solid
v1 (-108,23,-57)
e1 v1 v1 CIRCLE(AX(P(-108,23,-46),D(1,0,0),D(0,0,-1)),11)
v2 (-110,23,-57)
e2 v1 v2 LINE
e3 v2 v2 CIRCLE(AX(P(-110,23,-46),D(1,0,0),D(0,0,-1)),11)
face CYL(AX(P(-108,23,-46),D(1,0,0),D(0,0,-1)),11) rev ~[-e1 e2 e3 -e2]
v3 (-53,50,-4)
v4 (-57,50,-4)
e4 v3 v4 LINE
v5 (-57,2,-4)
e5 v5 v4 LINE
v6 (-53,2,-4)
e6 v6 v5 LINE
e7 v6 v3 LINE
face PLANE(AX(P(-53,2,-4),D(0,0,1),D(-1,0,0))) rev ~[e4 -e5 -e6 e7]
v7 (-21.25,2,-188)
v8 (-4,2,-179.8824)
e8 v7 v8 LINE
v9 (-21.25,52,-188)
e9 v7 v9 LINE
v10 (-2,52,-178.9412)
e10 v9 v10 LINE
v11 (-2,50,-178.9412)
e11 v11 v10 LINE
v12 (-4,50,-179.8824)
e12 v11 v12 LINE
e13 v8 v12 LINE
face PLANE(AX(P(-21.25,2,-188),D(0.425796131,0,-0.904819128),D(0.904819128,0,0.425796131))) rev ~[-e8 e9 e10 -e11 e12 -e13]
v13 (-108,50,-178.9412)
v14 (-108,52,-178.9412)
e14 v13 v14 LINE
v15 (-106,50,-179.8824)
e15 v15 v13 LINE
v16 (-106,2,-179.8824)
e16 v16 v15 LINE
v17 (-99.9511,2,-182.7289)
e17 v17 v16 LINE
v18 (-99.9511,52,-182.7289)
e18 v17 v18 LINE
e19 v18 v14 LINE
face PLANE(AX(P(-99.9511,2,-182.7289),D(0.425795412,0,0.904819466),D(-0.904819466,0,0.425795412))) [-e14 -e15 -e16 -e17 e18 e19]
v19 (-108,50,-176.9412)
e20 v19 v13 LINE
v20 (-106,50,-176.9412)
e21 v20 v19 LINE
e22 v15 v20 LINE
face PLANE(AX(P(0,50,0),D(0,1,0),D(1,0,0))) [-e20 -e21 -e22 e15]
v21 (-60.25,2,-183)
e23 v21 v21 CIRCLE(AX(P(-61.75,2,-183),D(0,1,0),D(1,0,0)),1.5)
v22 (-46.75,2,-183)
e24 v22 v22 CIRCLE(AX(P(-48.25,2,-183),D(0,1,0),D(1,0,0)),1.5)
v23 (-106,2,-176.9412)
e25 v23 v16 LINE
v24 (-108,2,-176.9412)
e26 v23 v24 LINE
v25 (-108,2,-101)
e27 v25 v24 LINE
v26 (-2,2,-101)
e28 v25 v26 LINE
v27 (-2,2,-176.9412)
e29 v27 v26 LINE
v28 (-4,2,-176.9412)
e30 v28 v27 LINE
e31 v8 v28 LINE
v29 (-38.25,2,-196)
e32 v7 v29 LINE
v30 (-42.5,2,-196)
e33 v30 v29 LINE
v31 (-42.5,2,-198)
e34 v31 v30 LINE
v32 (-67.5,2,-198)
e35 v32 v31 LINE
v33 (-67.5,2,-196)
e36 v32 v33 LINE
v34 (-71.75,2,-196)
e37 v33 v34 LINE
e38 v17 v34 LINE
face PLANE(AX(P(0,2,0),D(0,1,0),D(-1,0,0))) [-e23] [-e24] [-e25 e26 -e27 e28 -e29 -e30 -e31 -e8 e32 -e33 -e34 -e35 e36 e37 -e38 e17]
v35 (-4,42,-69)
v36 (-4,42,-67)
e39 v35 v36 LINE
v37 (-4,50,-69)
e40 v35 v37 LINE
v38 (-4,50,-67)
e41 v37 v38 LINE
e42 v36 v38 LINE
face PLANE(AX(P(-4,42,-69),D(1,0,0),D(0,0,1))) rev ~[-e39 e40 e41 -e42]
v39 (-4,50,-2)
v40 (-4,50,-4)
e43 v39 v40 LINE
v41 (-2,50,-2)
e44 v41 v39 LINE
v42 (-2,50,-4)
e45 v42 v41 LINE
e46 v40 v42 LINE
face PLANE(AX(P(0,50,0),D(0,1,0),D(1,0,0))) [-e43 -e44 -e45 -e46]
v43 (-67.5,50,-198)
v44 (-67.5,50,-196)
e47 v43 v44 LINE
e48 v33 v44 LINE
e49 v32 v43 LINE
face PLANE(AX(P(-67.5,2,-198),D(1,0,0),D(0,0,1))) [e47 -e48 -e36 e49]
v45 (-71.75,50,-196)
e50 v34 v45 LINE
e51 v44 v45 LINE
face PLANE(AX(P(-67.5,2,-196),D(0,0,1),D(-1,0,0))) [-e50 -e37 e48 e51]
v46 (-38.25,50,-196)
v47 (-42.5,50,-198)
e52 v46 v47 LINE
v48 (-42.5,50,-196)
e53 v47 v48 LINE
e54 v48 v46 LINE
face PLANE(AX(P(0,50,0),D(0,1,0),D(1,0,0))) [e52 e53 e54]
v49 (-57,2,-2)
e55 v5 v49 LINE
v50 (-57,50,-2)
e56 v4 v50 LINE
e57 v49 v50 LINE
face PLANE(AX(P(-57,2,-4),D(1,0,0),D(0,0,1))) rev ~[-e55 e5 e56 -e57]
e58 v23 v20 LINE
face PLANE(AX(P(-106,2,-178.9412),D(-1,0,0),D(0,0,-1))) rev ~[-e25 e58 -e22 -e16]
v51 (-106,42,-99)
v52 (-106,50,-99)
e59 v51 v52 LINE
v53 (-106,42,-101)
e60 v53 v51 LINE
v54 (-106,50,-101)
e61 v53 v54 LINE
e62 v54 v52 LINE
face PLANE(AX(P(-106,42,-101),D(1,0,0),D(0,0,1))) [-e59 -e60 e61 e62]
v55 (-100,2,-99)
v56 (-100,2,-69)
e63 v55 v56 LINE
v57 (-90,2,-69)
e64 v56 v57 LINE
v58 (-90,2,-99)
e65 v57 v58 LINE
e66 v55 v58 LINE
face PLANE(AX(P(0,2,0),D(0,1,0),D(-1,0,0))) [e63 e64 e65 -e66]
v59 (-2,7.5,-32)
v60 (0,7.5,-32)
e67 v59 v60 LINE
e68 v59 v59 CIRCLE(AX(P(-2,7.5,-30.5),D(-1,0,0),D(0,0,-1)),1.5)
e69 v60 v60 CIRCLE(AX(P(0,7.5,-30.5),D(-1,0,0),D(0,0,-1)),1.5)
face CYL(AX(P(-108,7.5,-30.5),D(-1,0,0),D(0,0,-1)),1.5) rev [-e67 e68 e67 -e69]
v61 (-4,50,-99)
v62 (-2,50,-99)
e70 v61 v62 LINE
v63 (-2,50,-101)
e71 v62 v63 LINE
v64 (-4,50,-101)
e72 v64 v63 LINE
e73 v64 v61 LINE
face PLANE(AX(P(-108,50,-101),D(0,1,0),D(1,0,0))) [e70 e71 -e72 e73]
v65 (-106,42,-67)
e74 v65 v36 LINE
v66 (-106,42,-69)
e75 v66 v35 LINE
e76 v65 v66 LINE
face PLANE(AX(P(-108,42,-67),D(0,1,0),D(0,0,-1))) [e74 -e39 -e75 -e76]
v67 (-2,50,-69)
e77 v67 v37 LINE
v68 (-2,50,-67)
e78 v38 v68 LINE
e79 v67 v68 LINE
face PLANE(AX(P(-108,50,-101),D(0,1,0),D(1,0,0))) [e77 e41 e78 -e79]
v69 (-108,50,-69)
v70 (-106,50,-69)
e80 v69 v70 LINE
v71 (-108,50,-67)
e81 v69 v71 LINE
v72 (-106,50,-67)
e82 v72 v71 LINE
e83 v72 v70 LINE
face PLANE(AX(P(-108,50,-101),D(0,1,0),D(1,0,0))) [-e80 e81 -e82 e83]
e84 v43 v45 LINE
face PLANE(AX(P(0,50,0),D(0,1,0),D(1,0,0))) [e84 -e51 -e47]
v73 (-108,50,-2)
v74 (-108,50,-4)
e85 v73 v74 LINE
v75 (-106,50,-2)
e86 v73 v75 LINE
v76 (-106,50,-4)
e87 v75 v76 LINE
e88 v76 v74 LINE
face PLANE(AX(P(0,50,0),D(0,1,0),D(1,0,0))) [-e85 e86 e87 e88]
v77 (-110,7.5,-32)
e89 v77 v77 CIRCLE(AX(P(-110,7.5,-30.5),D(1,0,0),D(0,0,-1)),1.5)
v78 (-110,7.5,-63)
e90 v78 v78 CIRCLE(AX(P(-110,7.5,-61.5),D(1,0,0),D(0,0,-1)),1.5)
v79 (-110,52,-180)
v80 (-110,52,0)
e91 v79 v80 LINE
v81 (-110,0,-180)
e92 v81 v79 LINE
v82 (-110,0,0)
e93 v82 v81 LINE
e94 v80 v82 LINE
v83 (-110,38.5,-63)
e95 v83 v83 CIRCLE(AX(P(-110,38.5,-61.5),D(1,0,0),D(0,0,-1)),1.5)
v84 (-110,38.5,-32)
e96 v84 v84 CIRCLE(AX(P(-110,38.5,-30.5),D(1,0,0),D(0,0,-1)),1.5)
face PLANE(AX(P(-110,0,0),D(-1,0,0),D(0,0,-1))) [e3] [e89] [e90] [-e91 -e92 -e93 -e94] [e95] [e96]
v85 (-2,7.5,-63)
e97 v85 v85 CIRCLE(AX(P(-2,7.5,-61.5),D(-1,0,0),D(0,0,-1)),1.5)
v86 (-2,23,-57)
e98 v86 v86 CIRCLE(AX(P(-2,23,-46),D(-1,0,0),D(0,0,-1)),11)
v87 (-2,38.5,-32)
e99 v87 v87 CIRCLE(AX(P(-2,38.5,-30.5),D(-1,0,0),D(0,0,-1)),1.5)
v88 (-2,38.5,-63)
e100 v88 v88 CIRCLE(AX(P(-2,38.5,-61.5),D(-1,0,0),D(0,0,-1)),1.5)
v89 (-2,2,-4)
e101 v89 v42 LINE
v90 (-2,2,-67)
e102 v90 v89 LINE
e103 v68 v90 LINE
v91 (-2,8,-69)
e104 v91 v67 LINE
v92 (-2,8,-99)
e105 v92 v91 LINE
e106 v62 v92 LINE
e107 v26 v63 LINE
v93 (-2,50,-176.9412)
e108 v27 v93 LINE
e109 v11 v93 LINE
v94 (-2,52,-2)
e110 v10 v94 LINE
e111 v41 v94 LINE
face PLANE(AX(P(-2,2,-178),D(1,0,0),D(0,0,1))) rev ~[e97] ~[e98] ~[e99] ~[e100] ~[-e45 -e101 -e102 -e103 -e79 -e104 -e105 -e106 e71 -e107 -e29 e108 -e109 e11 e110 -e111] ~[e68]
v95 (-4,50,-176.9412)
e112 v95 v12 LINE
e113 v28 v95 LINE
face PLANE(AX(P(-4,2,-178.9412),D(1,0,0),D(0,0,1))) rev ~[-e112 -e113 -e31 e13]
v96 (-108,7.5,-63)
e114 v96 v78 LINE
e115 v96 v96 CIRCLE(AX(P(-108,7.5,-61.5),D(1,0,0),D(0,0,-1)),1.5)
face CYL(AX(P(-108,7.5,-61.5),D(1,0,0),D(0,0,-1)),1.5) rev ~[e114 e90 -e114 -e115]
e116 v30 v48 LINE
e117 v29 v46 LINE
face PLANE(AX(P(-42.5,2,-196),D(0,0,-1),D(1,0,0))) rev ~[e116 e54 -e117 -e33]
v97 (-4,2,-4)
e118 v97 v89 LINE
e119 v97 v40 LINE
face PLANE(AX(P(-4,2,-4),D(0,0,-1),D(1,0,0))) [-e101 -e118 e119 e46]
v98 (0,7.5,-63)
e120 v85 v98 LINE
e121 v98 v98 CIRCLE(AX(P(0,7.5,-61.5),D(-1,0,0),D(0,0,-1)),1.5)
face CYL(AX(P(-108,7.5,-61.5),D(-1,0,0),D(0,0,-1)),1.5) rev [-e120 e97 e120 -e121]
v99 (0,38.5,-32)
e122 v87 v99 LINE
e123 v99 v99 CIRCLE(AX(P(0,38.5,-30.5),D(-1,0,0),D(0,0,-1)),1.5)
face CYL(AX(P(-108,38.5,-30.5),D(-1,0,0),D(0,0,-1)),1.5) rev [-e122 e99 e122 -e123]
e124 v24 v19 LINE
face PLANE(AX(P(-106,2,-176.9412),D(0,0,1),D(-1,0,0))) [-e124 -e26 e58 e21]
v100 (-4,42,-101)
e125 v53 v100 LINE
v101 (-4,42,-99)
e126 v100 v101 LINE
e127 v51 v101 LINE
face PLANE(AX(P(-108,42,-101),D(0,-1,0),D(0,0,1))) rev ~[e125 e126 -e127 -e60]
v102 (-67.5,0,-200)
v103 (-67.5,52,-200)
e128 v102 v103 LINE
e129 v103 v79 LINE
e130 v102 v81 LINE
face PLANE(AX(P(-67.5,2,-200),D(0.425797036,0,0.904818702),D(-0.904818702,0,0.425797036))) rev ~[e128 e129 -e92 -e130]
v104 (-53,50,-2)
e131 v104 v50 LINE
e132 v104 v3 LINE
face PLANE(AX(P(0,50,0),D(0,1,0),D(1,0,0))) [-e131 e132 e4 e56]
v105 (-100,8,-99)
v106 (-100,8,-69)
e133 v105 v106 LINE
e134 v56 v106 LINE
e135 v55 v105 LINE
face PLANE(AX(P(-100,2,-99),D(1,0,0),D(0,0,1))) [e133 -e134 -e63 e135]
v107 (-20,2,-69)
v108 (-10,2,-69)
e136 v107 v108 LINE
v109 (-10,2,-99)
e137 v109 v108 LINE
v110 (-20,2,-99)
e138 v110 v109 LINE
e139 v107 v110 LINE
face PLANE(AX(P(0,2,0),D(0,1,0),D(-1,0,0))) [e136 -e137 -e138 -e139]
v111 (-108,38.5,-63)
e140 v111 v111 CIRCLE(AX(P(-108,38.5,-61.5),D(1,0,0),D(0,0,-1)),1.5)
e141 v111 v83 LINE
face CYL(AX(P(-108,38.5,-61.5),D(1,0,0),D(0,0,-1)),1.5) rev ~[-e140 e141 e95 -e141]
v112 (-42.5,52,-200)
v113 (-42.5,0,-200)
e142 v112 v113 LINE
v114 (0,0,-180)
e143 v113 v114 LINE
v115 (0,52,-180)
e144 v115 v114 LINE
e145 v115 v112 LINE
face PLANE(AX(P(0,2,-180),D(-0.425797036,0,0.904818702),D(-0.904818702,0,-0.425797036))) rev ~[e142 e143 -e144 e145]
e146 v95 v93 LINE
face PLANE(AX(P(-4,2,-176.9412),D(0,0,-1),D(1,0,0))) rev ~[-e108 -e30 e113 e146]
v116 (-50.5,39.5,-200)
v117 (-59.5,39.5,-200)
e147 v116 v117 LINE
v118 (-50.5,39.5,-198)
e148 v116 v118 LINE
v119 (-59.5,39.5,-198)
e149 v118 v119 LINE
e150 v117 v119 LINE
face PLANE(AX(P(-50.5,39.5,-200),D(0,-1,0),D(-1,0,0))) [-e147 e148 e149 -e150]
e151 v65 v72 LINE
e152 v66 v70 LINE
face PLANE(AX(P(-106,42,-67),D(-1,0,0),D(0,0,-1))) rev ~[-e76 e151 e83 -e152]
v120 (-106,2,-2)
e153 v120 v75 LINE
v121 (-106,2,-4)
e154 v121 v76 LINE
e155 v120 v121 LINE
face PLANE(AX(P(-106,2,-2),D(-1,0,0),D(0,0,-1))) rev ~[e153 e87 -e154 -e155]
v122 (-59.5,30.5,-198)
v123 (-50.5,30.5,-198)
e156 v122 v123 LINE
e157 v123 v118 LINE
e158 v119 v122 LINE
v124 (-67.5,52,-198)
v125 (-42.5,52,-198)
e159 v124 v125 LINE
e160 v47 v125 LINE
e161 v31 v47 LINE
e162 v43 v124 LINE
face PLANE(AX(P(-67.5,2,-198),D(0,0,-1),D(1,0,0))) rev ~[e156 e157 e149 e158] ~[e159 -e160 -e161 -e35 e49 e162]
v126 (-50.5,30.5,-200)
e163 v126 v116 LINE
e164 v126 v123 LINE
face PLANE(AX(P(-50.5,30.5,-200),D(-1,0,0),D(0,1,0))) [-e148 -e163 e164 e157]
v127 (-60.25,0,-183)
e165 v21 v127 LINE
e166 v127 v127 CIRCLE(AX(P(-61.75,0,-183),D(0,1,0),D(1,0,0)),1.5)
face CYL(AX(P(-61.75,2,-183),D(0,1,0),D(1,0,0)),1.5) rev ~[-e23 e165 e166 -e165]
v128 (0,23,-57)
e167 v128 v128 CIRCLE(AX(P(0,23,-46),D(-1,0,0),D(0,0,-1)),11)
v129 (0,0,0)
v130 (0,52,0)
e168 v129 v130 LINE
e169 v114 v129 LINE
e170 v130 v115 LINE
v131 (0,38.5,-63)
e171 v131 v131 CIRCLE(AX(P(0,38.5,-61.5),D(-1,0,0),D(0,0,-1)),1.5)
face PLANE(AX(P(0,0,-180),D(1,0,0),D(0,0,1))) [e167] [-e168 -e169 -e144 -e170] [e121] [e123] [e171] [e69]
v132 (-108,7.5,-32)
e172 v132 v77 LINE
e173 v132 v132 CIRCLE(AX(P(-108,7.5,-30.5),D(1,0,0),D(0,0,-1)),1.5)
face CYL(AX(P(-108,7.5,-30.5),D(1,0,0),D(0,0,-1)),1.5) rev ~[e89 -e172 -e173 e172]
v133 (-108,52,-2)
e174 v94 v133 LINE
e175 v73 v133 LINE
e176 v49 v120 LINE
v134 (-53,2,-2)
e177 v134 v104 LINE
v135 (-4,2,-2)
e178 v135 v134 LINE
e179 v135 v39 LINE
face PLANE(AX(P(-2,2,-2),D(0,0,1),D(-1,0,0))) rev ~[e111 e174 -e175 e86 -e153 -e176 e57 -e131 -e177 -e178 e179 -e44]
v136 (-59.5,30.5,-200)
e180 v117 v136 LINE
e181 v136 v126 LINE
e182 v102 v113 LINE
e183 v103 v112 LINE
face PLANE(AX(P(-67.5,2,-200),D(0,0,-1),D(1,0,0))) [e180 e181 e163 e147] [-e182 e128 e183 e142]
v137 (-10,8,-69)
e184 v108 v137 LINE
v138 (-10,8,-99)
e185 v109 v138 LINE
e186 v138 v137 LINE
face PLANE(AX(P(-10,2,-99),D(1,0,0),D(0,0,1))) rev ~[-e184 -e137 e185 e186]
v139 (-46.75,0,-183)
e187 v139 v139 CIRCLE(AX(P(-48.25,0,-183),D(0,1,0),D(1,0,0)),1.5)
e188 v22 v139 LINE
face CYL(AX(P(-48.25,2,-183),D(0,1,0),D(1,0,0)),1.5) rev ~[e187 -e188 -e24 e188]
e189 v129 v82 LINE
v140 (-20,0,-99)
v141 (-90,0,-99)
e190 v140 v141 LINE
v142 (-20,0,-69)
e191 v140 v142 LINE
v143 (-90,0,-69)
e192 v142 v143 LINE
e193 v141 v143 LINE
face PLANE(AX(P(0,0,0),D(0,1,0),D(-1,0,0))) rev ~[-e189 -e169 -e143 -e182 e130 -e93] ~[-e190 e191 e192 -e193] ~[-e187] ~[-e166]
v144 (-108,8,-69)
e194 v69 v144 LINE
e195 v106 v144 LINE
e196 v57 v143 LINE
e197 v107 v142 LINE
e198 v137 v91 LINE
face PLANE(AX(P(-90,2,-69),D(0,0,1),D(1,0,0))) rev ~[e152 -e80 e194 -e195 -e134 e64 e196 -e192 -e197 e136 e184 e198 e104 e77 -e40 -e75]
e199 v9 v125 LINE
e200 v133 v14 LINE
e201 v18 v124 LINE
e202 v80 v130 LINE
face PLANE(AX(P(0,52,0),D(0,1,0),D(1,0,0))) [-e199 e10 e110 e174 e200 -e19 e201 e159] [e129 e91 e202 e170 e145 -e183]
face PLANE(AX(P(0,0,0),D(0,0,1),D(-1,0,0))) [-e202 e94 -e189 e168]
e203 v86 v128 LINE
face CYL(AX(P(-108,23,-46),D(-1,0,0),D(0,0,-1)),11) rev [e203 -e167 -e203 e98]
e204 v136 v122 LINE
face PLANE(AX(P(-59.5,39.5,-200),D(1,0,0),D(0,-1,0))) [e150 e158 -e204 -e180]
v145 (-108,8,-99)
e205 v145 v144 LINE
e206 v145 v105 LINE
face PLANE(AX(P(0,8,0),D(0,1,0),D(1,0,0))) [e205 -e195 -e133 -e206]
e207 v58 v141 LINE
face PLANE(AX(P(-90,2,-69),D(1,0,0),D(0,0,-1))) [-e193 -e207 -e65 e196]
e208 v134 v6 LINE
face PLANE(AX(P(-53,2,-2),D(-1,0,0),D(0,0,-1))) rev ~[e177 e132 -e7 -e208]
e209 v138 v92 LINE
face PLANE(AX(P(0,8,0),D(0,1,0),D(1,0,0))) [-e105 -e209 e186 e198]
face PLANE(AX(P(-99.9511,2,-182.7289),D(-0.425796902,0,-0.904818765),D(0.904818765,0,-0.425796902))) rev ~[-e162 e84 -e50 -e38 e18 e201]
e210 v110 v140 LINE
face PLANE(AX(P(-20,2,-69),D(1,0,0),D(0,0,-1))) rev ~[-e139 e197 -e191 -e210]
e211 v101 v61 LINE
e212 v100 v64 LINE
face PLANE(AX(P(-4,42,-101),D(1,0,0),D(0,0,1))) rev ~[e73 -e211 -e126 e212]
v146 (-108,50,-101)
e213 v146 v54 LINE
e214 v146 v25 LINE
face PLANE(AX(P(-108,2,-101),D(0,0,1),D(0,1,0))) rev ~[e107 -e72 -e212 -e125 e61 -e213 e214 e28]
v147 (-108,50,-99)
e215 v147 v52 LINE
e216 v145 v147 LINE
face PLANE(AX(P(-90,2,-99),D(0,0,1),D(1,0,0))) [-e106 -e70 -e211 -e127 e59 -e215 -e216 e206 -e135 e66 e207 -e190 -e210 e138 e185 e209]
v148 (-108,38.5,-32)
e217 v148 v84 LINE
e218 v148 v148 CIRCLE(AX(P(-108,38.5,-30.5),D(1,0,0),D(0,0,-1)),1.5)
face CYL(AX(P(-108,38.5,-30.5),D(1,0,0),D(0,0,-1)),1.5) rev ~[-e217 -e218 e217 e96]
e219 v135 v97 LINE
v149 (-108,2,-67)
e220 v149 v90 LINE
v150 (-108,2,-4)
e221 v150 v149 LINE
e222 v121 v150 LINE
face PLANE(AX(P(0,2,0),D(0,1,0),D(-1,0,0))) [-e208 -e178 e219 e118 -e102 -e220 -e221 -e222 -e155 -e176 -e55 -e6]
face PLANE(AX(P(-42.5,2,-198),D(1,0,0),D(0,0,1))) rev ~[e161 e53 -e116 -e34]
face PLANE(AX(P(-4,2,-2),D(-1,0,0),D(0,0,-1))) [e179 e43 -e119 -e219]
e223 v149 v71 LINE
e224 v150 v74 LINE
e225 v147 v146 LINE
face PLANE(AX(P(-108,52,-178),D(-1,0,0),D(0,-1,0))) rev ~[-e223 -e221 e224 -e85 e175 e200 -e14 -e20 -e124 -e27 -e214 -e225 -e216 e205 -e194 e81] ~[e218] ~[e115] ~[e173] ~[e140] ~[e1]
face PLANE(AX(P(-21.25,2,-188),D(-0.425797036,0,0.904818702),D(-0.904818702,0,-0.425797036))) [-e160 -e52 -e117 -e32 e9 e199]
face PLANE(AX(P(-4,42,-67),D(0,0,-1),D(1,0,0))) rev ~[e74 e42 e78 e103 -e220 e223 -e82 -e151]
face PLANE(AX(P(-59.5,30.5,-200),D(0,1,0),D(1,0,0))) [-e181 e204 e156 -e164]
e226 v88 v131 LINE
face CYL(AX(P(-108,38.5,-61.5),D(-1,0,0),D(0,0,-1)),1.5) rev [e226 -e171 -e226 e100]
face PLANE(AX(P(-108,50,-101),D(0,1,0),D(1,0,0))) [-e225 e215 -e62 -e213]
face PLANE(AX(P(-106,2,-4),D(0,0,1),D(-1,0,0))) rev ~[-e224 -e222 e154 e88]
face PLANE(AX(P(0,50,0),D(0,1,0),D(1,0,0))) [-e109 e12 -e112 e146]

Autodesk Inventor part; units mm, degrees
ref_plane "YZ Plane" through (0, 0, 0) normal (1, 0, 0) x (0, 1, 0)
ref_plane "XZ Plane" through (0, 0, 0) normal (0, 1, 0) x (-1, 0, 0)
ref_plane "XY Plane" through (0, 0, 0) normal (0, 0, 1) x (1, 0, 0)
sketch "Sketch1" plane through (0, 0, 0) normal (0, 1, 0) x (-1, 0, 0)
  line L0 (0, 0) -> (110, 0)
  line L1 (110, 0) -> (110, -180)
  line L2 (0, -180) -> (0, 0)
  line L3 (67.5, -200) -> (42.5, -200)
  line L4 (67.5, -200) -> (110, -180)
  line L5 (42.5, -200) -> (0, -180)
  dimension "d2" = 180
  dimension "d38" = 25
extrude "Extrusion1" add sketch "Sketch1" along normal blind 2
sketch "Sketch2" plane through (0, 2, 0) normal (0, 1, 0) x (1, 0, 0)
  line L0 (0, 180) -> (-110, 180) projected
  line L1 (-110, 180) -> (-110, 0) projected
  line L2 (0, 180) -> (-110, 180)
  line L3 (-110, 180) -> (-110, 0)
  line L4 (-110, 0) -> (0, 0)
  line L5 (0, 0) -> (0, 180)
  line L6 (0, 0) -> (0, 180) projected
  line L7 (-110, 0) -> (0, 0) projected
  line L8 (-2, 2) -> (-108, 2)
  line L9 (-108, 2) -> (-108, 178)
  line L10 (-108, 178) -> (-2, 178)
  line L11 (-2, 178) -> (-2, 2)
extrude "Extrusion2" add sketch "Sketch2" along normal blind 50
sketch "Sketch3" plane through (-108, 2, -2) normal (1, 0, 0) x (0, 0, -1)
  line L0 (0, 50) -> (176, 50) projected
  line L1 (65, 40) -> (65, 0)
  line L2 (176, 0) -> (0, 0) projected
  line L3 (67, 40) -> (67, 0)
  line L4 (67, 0) -> (65, 0)
  line L5 (97, 40) -> (97, 0)
  line L6 (97, 0) -> (99, 0)
  line L7 (99, 0) -> (99, 40)
  line L8 (65, 40) -> (67, 40)
  line L9 (99, 40) -> (97, 40)
  point P0 (-2, -2)
  point P1 (67, 0)
extrude "Extrusion3" add sketch "Sketch3" along normal up to next
sketch "Sketch4" plane through (0, 2, 0) normal (0, 1, 0) x (1, 0, 0)
  line L0 (-108, 69) -> (-2, 69) projected
  line L1 (-90, 69) -> (-90, 99)
  line L2 (-108, 99) -> (-2, 99) projected
  line L3 (-2, 69) -> (-2, 99) projected
  line L4 (-20, 69) -> (-20, 99)
  line L5 (-20, 99) -> (-90, 99)
  line L6 (-90, 69) -> (-20, 69)
  point P0 (0, 0)
extrude "Extrusion4" cut sketch "Sketch4" against normal up to next contours L1 L2 L4 L0
sketch "Sketch5" plane through (-108, 2, -178) normal (1, 0, 0) x (0, 0, -1)
  line L0 (-111, 0) -> (-111, 40) projected
  line L1 (-111, 0) -> (-176, 0) projected
  circle A0 centre (-132, 21) radius 11
  circle A1 centre (-147.5, 36.5) radius 1.5
  circle A2 centre (-116.5, 36.5) radius 1.5
  circle A3 centre (-147.5, 36.5) radius 1.5
  circle A4 centre (-147.5, 5.5) radius 1.5
  circle A5 centre (-116.5, 5.5) radius 1.5
  point P0 (-178, -2)
extrude "Extrusion5" cut sketch "Sketch5" along normal through all both and the other way through all
sketch "Sketch6" plane through (-108, 2, -178) normal (0, 0, 1) x (1, 0, 0)
  line L0 (106, 0) -> (106, 50) projected
  line L1 (106, 50) -> (0, 50)
  line L2 (0, 50) -> (0, 0)
  line L3 (0, 0) -> (106, 0)
  line L4 (106, 0) -> (106, 50)
  point P0 (108, -2)
extrude "Extrusion6" cut sketch "Sketch6" against normal up to next
sketch "Sketch7" plane through (0, 2, 0) normal (0, 1, 0) x (1, 0, 0)
  line L0 (-67.5, 200) -> (-110, 180) projected
  line L1 (-110, 180) -> (-67.5, 200)
  line L2 (-67.5, 200) -> (-42.5, 200)
  line L3 (0, 180) -> (-42.5, 200) projected
  line L4 (-42.5, 200) -> (0, 180)
  line L5 (-67.5, 198) -> (-42.5, 198)
  line L6 (-99.9511, 182.7289) -> (-67.5, 198)
  line L7 (-99.9511, 182.7289) -> (-108, 178.9412)
  line L8 (-108, 180) -> (-108, 101) projected
  line L9 (-108, 180) -> (-110, 180)
  line L10 (-21.25, 188) -> (-42.5, 198)
  line L11 (-21.25, 188) -> (-2, 178.9412)
  line L12 (-2, 101) -> (-2, 180) projected
  line L13 (-2, 180) -> (0, 180)
  line L14 (0, 180) -> (-42.5, 200)
  line L15 (-42.5, 200) -> (-67.5, 200) projected
  line L16 (-42.5, 200) -> (-67.5, 200)
  line L17 (-110, 180) -> (-110, 0) projected
  line L18 (-67.5, 200) -> (-110, 180)
  point P0 (0, 0)
extrude "Extrusion7" add sketch "Sketch7" along normal up to surface (50 mm away)
sketch "Sketch8" plane through (-42.5, 0, -200) normal (0, 0, -1) x (-1, 0, 0)
  line L0 (0, 0) -> (25, 0) projected
  line L1 (8, 39.5) -> (17, 39.5)
  line L2 (17, 39.5) -> (17, 30.5)
  line L3 (17, 30.5) -> (8, 30.5)
  line L4 (8, 30.5) -> (8, 39.5)
  line L5 (8, 39.5) -> (17, 30.5) construction
  line L6 (17, 39.5) -> (8, 30.5) construction
  point P0 (-42.5, 0)
  dimension "d48" = 9
  dimension "d49" = 9
extrude "Extrusion8" cut sketch "Sketch8" against normal blind 2
sketch "Sketch9" plane through (0, 2, 0) normal (0, 1, 0) x (1, 0, 0)
  line L0 (-108, 2) -> (-108, 178.9412) projected
  line L1 (-108, 2) -> (-106, 2)
  line L2 (-106, 2) -> (-106, 4)
  line L3 (-106, 4) -> (-108, 4)
  line L4 (-108, 4) -> (-108, 2)
  line L5 (-2, 2) -> (-108, 2) projected
  line L6 (-2, 2) -> (-4, 2)
  line L7 (-4, 2) -> (-4, 4)
  line L8 (-4, 4) -> (-2, 4)
  line L9 (-2, 4) -> (-2, 2)
  line L10 (-67.5, 198) -> (-108, 178.9412) projected
  line L11 (-106, 178.9412) -> (-106, 176.9412)
  line L12 (-106, 176.9412) -> (-108, 176.9412)
  line L13 (-108, 176.9412) -> (-108, 178.9412)
  line L14 (-106, 178.9412) -> (-106, 179.8824)
  line L15 (-108, 178.9412) -> (-108, 101) projected
  line L16 (-108, 178.9412) -> (-106, 179.8824)
  line L17 (-2, 178.9412) -> (-2, 2) projected
  line L18 (-4, 178.9412) -> (-4, 176.9412)
  line L19 (-4, 176.9412) -> (-2, 176.9412)
  line L20 (-2, 176.9412) -> (-2, 178.9412)
  line L21 (-4, 178.9412) -> (-4, 179.8824)
  line L22 (-2, 178.9412) -> (-42.5, 198) projected
  line L23 (-4, 179.8824) -> (-2, 178.9412)
  line L24 (-4, 179.8824) -> (-2, 178.9412)
  line L25 (-67.5, 198) -> (-108, 178.9412) projected
  line L26 (-67.5, 198) -> (-67.5, 196)
  line L27 (-67.5, 196) -> (-71.75, 196)
  line L28 (-42.5, 198) -> (-67.5, 198) projected
  line L29 (-42.5, 198) -> (-42.5, 196)
  line L30 (-42.5, 196) -> (-38.25, 196)
  line L31 (-42.5, 198) -> (-38.25, 196)
  line L32 (-71.75, 196) -> (-67.5, 198)
  line L33 (-55, 2) -> (-53, 2)
  line L34 (-53, 2) -> (-53, 4)
  line L35 (-53, 4) -> (-57, 4)
  line L36 (-57, 4) -> (-57, 2)
  line L37 (-57, 2) -> (-55, 2)
  point P0 (0, 0)
extrude "Extrusion9" add sketch "Sketch9" along normal blind 48 contours L0 L3 L2 L1 | L36 L35 L34 L5 | L0 L10 L14 L11 L12 | L7 L8 L9 L5 | L10 L26 L27 | L22 L30 L29 | L19 L18 L21 L22 L17
sketch "Sketch10" plane through (-108, 42, -101) normal (0, 1, 0) x (1, 0, 0)
  line L0 (0, 0) -> (106, 0) projected
  line L1 (0, -2) -> (106, -2) projected
  line L2 (106, 0) -> (104, 0)
  line L3 (104, 0) -> (104, -2)
  line L4 (104, -2) -> (106, -2)
  line L5 (106, -2) -> (106, 0)
  line L6 (106, -32) -> (106, -34) projected
  line L7 (106, -32) -> (104, -32)
  line L8 (104, -32) -> (104, -34)
  line L9 (104, -34) -> (106, -34)
  line L10 (106, -34) -> (106, -32)
  line L11 (106, -34) -> (0, -34) projected
  line L12 (0, -32) -> (18, -32) projected
  line L13 (0, -34) -> (2, -34)
  line L14 (2, -34) -> (2, -32)
  line L15 (2, -32) -> (0, -32)
  line L16 (0, -32) -> (0, -34)
  line L17 (0, -2) -> (0, 0) projected
  line L18 (0, 0) -> (2, 0)
  line L19 (2, 0) -> (2, -2)
  line L20 (2, -2) -> (0, -2)
  line L21 (0, -2) -> (0, 0)
  point P0 (108, -101)
  point P1 (2, -34)
  point P2 (2, -2)
  point P3 (2, 0)
extrude "Extrusion10" add sketch "Sketch10" along normal blind 8 contours L0 L19 L1 L17 | L0 L5 L1 L3 | L11 L16 L12 L14 | L6 L9 L8 L7
sketch "Sketch12" plane through (0, 2, 0) normal (0, 1, 0) x (1, 0, 0)
  line L0 (-106, 99) -> (-4, 99) projected
  line L1 (-55, 99) -> (-100, 99)
  line L2 (-100, 99) -> (-100, 69)
  line L3 (-108, 101) -> (-2, 101) projected
  line L4 (-100, 99) -> (-70, 99) construction
  line L5 (-108, 99) -> (-108, 69) projected
  line L6 (-108, 99) -> (-100, 99)
  line L7 (-100, 99) -> (-100, 69)
  line L8 (-100, 69) -> (-108, 69)
  line L9 (-108, 69) -> (-108, 99)
  line L10 (-10, 99) -> (-10, 69)
  line L11 (-2, 99) -> (-2, 69)
  line L12 (-2, 99) -> (-10, 99)
  line L13 (-10, 99) -> (-10, 69)
  line L14 (-10, 69) -> (-2, 69)
  line L15 (-2, 69) -> (-2, 99)
  point P0 (0, 0)
extrude "Extrusion12" add sketch "Sketch12" along normal blind 6
sketch "Sketch13" plane through (0, 2, 0) normal (0, 1, 0) x (1, 0, 0)
  line L0 (-42.5, 198) -> (-67.5, 198) projected
  circle A0 centre (-61.75, 183) radius 1.5
  circle A1 centre (-48.25, 183) radius 1.5
  point P0 (0, 0)
extrude "Extrusion13" cut sketch "Sketch13" against normal through all
properties part number "Robot"
